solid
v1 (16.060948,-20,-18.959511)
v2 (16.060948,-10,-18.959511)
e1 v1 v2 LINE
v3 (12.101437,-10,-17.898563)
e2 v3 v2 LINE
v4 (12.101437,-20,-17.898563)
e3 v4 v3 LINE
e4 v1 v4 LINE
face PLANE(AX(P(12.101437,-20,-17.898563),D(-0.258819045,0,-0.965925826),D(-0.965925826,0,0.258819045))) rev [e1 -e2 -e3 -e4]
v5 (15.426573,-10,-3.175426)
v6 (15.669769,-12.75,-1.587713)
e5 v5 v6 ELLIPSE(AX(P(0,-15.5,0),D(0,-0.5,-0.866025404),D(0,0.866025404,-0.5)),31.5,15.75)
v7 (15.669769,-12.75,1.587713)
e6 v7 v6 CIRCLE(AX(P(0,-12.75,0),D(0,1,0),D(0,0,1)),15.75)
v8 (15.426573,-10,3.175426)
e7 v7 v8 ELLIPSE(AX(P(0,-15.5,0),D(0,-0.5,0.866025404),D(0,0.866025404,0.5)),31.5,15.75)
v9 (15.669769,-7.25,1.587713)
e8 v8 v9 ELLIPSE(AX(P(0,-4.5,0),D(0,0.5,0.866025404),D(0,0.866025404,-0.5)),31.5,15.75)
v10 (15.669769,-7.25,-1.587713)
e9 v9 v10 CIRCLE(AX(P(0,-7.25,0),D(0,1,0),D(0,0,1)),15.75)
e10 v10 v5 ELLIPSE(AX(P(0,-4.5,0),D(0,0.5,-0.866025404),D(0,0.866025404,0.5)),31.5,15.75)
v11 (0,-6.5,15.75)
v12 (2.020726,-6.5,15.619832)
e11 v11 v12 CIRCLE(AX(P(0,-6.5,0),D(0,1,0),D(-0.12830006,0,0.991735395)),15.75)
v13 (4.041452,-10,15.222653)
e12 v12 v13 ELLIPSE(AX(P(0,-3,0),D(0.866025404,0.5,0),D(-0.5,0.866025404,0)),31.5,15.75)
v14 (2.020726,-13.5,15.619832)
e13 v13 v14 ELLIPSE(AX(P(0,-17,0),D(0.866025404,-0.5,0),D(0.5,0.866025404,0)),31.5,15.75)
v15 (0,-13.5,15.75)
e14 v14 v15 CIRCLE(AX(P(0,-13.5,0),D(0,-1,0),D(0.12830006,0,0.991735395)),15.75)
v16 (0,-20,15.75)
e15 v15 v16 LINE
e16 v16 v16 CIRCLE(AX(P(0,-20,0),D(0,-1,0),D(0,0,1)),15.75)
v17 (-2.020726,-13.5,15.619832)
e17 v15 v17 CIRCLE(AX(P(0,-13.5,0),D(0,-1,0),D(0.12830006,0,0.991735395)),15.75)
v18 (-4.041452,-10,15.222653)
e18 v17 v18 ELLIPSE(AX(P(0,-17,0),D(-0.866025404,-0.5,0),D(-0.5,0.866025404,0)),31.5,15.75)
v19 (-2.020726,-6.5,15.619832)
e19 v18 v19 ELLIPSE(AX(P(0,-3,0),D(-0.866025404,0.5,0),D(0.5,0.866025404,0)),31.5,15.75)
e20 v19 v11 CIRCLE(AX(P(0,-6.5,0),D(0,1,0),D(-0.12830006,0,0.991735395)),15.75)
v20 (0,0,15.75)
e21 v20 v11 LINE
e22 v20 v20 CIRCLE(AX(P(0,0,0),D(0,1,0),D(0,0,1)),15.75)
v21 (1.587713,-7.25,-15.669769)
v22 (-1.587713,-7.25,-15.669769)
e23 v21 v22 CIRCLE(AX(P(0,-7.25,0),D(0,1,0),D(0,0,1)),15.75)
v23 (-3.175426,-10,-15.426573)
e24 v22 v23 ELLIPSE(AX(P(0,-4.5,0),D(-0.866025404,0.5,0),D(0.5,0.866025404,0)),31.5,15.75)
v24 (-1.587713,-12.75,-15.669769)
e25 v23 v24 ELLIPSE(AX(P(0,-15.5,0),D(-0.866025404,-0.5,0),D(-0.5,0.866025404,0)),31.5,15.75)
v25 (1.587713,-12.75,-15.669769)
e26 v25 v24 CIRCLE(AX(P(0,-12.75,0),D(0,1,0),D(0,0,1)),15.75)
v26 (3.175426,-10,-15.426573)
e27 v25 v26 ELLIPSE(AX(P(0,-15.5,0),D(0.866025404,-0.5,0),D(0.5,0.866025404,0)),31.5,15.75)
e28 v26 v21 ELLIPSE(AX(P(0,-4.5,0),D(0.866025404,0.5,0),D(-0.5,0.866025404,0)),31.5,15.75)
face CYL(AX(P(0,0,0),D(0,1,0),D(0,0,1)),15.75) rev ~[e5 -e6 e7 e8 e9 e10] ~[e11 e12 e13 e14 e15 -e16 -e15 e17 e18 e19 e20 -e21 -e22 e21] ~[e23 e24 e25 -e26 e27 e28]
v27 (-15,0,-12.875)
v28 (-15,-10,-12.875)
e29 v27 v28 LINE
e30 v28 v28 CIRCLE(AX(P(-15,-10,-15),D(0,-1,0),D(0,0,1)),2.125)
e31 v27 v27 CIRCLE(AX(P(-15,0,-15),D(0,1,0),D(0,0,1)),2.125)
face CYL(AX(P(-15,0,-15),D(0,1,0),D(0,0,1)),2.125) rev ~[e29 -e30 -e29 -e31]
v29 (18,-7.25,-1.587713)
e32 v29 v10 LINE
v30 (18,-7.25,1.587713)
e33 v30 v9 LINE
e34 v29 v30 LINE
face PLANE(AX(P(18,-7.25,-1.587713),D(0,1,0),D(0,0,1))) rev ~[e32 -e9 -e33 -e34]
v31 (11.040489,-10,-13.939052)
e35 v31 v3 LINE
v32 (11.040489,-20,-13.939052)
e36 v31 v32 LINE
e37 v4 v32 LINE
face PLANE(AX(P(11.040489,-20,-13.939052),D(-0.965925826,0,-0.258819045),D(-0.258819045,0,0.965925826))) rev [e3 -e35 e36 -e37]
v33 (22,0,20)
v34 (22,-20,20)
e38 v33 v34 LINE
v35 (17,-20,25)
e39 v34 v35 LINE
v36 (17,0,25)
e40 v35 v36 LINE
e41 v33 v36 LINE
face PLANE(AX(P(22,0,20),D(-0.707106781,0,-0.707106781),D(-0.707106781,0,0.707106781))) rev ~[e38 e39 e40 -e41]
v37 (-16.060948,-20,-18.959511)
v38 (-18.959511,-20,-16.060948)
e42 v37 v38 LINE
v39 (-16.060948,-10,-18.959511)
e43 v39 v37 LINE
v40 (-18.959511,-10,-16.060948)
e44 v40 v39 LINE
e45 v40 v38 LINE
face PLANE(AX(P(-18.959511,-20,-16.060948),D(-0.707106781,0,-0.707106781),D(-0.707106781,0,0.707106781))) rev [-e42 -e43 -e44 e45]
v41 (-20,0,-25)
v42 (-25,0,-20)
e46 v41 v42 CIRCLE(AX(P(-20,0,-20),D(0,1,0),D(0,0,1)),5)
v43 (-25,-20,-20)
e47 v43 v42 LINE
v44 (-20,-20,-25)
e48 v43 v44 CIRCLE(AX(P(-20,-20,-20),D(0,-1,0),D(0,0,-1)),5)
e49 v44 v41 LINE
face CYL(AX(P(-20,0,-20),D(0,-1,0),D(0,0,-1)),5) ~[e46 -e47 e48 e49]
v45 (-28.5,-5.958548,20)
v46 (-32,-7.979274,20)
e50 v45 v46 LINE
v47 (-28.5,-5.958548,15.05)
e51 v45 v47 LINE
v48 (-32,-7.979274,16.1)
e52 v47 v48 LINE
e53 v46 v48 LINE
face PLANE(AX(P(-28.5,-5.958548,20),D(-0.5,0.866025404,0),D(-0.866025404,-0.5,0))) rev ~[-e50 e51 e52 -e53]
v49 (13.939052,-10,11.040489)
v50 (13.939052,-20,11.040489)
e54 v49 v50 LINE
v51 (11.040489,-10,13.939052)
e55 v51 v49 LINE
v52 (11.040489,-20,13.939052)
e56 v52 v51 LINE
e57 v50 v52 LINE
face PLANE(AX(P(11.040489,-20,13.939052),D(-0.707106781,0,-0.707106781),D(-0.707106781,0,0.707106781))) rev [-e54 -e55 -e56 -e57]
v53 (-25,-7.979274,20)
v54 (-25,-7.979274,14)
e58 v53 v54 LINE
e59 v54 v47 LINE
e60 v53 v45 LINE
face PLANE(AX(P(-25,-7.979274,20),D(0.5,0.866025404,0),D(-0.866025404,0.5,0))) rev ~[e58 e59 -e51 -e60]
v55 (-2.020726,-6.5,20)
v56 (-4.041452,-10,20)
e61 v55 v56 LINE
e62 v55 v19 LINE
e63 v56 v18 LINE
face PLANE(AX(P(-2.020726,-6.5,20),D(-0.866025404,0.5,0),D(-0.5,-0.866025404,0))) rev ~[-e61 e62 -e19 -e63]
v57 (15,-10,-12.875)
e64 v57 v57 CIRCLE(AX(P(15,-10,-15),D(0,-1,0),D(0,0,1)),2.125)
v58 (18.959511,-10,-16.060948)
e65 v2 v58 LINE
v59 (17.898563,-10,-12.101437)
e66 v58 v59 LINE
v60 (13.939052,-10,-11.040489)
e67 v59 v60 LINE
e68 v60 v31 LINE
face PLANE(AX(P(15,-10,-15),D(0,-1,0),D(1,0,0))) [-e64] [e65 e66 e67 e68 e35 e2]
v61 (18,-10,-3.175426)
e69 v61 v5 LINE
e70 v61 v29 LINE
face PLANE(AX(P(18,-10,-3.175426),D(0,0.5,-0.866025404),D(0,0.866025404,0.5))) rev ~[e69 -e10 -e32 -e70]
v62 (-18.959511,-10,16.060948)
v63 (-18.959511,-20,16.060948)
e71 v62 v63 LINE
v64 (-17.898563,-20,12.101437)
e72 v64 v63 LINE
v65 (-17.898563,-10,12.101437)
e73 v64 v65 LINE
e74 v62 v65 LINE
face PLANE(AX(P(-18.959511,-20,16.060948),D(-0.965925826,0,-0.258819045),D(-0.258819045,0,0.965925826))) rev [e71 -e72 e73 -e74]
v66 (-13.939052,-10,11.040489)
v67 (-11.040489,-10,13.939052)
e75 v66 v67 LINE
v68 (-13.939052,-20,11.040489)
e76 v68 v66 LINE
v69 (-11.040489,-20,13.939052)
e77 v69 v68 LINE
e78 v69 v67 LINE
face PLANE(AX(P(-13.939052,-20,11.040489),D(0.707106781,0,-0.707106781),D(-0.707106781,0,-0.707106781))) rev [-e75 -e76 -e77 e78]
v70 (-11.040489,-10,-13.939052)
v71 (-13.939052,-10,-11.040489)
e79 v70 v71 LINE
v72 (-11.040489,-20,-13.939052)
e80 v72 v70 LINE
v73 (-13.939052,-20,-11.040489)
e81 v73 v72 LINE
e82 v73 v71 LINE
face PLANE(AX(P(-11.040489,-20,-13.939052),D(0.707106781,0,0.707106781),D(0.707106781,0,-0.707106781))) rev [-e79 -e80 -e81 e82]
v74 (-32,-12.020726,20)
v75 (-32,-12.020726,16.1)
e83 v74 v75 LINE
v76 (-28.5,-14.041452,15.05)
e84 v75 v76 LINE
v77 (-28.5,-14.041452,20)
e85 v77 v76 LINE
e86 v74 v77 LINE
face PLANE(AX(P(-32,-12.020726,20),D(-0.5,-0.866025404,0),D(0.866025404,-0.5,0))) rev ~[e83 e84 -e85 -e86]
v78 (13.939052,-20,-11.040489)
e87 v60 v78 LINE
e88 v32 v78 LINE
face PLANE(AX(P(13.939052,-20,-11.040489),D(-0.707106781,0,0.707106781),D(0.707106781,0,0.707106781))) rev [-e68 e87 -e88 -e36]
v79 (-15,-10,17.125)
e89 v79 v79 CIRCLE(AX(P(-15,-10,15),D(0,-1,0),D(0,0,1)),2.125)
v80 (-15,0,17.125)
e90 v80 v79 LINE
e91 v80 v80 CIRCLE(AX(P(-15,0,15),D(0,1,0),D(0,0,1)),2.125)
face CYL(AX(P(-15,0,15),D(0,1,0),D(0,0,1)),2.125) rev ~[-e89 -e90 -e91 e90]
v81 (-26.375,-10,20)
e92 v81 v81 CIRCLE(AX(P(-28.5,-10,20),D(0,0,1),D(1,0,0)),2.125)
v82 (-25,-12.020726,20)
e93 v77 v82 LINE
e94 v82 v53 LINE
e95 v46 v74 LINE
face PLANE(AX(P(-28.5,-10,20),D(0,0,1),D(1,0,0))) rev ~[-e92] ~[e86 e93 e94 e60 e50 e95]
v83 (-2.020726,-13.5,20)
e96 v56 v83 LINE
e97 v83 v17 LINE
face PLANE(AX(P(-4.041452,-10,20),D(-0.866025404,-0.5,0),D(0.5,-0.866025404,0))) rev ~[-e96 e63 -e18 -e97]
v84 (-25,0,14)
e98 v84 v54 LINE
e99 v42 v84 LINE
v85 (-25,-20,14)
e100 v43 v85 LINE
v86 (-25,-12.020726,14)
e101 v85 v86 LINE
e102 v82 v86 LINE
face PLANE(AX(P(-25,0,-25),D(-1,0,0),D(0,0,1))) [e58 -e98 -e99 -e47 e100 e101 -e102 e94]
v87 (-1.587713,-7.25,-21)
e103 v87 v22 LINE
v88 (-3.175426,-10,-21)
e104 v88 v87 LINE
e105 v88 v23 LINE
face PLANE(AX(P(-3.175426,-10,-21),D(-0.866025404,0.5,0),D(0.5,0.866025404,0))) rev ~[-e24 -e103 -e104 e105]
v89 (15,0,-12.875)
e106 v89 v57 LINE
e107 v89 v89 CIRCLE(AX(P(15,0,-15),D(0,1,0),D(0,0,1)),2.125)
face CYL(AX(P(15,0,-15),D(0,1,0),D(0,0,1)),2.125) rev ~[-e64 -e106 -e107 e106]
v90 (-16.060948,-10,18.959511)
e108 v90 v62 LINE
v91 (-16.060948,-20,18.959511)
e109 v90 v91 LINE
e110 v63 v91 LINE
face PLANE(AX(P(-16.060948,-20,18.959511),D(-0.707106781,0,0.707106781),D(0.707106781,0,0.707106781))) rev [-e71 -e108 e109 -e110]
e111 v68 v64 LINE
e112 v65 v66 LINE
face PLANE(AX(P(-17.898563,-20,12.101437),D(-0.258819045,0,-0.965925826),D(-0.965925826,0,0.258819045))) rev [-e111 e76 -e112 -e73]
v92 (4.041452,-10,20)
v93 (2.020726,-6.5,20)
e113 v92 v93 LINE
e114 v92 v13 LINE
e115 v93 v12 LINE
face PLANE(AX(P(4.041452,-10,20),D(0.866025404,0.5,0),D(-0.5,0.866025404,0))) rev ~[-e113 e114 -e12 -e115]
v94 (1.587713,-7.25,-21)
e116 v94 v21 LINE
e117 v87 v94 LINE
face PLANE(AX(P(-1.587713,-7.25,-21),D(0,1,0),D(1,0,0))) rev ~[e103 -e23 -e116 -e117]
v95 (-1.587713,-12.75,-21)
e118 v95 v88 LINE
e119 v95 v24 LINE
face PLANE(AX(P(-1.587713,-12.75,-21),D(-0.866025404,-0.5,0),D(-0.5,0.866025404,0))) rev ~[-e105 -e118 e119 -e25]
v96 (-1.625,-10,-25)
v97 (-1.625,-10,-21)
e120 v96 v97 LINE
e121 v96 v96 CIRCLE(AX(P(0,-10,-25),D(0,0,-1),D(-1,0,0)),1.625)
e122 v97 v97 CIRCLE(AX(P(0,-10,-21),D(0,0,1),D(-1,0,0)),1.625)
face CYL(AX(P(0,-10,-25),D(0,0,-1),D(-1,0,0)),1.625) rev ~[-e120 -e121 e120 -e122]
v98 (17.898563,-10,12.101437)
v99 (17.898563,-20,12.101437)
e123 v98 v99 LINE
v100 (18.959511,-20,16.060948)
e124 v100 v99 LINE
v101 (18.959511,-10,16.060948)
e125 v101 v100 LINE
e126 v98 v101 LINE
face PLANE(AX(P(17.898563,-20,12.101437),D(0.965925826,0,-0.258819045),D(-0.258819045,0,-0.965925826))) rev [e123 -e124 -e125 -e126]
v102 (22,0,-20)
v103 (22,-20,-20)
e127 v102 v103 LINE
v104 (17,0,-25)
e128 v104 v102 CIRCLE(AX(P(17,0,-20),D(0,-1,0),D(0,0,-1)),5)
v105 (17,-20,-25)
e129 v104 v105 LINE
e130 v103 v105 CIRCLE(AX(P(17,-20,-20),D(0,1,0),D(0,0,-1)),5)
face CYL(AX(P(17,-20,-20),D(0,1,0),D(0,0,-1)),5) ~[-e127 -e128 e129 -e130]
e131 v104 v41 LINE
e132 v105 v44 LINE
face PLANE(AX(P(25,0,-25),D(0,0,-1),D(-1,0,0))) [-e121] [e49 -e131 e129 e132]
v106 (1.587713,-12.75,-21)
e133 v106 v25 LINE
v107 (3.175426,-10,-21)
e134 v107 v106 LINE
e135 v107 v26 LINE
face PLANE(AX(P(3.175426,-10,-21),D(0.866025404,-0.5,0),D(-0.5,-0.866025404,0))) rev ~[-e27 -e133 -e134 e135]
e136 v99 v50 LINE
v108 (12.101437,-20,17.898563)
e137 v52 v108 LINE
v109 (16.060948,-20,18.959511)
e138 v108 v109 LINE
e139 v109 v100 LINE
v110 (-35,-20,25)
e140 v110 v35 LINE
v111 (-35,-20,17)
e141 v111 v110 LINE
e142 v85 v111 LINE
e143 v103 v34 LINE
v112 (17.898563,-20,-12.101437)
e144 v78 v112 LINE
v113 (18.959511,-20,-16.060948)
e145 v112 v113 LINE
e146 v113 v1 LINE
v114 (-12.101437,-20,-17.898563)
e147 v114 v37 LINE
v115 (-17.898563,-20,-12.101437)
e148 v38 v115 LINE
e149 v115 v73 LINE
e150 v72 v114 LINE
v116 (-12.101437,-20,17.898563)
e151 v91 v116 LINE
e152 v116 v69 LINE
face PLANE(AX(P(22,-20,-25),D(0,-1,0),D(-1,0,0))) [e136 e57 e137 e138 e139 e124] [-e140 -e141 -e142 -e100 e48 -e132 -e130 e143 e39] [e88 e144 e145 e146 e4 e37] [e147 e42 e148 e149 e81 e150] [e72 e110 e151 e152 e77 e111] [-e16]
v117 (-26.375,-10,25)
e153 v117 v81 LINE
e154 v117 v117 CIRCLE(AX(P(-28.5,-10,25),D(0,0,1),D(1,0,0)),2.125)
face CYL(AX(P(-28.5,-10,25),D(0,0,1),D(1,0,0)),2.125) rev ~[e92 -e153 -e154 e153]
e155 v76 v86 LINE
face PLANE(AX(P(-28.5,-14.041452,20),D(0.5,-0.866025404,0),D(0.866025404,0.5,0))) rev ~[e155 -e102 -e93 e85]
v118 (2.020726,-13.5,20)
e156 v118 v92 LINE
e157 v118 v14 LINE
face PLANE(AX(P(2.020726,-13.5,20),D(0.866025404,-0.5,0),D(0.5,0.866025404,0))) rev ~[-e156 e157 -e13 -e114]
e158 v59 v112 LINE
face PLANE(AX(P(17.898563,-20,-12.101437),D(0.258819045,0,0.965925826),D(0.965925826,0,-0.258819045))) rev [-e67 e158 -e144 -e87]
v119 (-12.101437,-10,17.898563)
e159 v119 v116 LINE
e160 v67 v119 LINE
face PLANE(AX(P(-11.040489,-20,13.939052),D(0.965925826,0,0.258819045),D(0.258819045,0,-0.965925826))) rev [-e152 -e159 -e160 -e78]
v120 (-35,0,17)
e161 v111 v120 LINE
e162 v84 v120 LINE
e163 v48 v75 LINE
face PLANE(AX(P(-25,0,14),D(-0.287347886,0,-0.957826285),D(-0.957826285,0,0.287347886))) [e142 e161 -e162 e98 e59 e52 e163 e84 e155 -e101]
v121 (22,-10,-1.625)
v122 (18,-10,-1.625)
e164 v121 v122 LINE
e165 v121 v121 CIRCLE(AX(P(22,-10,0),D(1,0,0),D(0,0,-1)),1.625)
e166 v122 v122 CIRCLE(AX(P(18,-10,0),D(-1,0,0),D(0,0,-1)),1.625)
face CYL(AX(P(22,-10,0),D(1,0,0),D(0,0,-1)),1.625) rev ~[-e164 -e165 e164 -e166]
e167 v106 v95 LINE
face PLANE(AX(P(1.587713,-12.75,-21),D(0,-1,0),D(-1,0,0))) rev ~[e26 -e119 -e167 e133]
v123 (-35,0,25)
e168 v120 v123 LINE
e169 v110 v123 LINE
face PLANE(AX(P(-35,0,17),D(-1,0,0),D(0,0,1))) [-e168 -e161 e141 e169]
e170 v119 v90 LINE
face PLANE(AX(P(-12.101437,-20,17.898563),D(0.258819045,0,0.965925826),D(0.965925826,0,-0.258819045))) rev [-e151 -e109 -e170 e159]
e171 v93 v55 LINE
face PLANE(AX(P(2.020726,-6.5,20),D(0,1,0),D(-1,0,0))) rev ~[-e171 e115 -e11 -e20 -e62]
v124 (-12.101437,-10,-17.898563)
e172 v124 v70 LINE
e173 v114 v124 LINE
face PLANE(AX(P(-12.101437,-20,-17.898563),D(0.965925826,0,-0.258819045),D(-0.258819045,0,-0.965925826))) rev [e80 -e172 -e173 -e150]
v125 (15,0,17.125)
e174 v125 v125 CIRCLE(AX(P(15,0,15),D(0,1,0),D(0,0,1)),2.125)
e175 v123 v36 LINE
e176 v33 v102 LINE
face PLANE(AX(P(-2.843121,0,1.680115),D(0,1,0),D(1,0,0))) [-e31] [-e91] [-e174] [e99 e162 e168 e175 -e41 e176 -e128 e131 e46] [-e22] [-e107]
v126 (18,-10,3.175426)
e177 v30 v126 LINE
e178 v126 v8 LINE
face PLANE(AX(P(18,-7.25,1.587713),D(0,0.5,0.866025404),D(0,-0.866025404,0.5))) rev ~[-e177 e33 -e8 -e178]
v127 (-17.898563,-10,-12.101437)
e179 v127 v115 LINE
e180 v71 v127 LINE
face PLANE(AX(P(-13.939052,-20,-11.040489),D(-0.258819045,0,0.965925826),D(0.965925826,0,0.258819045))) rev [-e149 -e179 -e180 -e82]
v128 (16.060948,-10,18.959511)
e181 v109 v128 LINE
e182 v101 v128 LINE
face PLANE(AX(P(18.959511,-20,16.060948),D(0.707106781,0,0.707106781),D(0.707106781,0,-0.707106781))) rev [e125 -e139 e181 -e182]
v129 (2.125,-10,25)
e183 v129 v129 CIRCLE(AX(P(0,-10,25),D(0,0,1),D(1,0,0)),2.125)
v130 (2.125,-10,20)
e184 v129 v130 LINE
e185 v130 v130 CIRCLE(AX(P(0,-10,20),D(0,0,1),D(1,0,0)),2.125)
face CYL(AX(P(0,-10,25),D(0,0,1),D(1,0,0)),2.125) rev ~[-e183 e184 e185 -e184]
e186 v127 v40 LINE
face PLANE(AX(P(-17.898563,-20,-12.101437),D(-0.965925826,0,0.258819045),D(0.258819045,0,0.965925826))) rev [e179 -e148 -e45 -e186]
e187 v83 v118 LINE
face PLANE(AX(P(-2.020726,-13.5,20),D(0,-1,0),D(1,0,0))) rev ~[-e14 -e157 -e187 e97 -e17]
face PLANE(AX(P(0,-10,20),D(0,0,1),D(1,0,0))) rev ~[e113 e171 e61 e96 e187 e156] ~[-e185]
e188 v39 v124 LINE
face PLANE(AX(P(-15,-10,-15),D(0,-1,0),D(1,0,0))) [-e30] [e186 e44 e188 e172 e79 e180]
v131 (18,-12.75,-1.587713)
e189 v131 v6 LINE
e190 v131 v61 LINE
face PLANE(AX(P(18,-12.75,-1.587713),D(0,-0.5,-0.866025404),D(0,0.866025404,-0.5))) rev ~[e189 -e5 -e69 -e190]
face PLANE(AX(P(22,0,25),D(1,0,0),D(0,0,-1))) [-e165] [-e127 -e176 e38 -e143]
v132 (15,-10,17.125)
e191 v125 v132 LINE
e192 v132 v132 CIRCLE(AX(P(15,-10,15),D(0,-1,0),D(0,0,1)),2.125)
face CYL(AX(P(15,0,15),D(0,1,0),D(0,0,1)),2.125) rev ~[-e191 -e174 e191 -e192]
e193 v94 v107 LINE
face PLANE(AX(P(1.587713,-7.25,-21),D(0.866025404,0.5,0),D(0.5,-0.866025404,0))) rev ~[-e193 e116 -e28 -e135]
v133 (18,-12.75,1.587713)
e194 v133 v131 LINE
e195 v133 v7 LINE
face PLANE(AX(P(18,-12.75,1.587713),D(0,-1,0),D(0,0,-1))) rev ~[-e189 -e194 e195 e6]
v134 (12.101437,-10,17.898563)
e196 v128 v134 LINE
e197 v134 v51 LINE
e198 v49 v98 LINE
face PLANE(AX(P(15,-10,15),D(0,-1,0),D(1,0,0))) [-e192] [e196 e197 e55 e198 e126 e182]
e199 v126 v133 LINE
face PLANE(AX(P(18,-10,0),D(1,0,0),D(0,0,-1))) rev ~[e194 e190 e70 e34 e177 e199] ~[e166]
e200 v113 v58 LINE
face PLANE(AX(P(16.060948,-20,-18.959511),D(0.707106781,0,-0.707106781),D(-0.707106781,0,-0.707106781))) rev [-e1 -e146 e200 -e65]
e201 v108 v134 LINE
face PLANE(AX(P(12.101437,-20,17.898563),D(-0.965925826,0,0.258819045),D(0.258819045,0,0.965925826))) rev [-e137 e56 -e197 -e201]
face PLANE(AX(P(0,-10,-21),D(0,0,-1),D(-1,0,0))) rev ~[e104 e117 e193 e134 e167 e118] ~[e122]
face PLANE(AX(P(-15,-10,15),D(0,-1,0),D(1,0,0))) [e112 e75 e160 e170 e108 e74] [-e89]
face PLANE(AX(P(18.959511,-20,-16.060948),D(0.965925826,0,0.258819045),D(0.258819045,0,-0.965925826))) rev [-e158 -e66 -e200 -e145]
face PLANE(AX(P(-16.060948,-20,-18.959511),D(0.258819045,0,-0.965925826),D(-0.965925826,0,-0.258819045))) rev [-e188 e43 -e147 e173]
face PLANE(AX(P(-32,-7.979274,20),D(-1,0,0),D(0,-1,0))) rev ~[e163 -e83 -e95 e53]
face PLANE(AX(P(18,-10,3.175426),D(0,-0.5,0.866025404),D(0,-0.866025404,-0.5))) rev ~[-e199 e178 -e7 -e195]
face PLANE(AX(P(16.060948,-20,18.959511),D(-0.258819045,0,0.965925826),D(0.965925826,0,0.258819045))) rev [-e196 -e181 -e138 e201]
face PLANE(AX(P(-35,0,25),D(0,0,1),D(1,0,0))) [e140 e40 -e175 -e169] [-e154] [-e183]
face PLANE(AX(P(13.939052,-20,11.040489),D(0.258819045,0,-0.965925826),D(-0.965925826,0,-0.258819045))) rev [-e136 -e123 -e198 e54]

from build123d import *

# Parameters (mm, degrees)
CROQUIS1_R               = 2.125
CROQUIS1_R_2             = 15.75
SALIENTE_EXTRUIR1_DEPTH  = 20
CORTAR_EXTRUIR1_REACH    = 66.226
CROQUIS3_R               = 2.125
CORTAR_EXTRUIR2_REACH    = 71.226
CORTAR_EXTRUIR2_START    = -5
CORTAR_EXTRUIR3_DEPTH    = 10
SKETCH1_W                = 3
SKETCH1_H                = 60
CUT_EXTRUDE1_DEPTH       = 48.434164903
REDONDEO1_R              = 5
CUT_EXTRUDE2_DEPTH       = 48.434164903
SKETCH3_R                = 1.625
CUT_EXTRUDE3_DEPTH       = 10
CUT_EXTRUDE4_REACH       = 71.376
CUT_EXTRUDE4_END_RADIUS  = 15.75
CUT_EXTRUDE4_START       = -4
CUT_EXTRUDE5_REACH       = 66.226
CUT_EXTRUDE5_END_RADIUS  = 15.75
SKETCH5_R                = 1.625
CUT_EXTRUDE6_REACH       = 70.226
CUT_EXTRUDE6_END_RADIUS  = 15.75
CUT_EXTRUDE6_START       = -4
REDONDEO1_OF_SIMETR_A1_R = 5
CROQUIS6_W               = 57
CROQUIS6_H               = 20
CORTAR_EXTRUIR4_DEPTH    = 73.972597597
CROQUIS7_W               = 57
CROQUIS7_H               = 20
CORTAR_EXTRUIR5_DEPTH    = 73.972597597


with BuildPart() as part:
    # Croquis1 → Saliente-Extruir1 (new body)
    with BuildSketch(Plane(origin=(0, 0, 0), x_dir=(1, 0, 0), z_dir=(0, 1, 0))):
        Polygon((25, 25), (-25, 25), (-25, -14), (-35, -17), (-35, -25), (25, -25), align=None)
        with Locations(Location((-15, -15, 0), (0, 0, 270))):
            Circle(CROQUIS1_R, mode=Mode.SUBTRACT)
        with Locations(Location((15, -15, 0), (0, 0, 270))):
            Circle(CROQUIS1_R, mode=Mode.SUBTRACT)
        with Locations(Location((-15, 15, 0), (0, 0, 270))):
            Circle(CROQUIS1_R, mode=Mode.SUBTRACT)
        with Locations(Location((0, 0, 0), (0, 0, 270))):
            Circle(CROQUIS1_R_2, mode=Mode.SUBTRACT)
        with Locations(Location((15, 15, 0), (0, 0, 270))):
            Circle(CROQUIS1_R, mode=Mode.SUBTRACT)
    saliente_extruir1 = extrude(amount=-SALIENTE_EXTRUIR1_DEPTH)

    # Croquis3 → Cortar-Extruir1 (cut, up to next)
    with BuildSketch(Plane.XY.offset(25), mode=Mode.PRIVATE) as cortar_extruir1_sk1:
        with Locations((-28.5, -10)):
            Circle(CROQUIS3_R)
    cortar_extruir1_tool1 = extrude(cortar_extruir1_sk1.sketch, amount=-CORTAR_EXTRUIR1_REACH, mode=Mode.PRIVATE) & part.part
    # Croquis3 → Cortar-Extruir1 (cut, up to next)
    with BuildSketch(Plane.XY.offset(25), mode=Mode.PRIVATE) as cortar_extruir1_sk2:
        with Locations((0, -10)):
            Circle(CROQUIS3_R)
    cortar_extruir1_tool2 = extrude(cortar_extruir1_sk2.sketch, amount=-CORTAR_EXTRUIR1_REACH, mode=Mode.PRIVATE) & part.part
    cortar_extruir1_1 = cortar_extruir1_tool1.solids().sort_by_distance((-28.5, -10, 25))[0]
    add(cortar_extruir1_1, mode=Mode.SUBTRACT)
    cortar_extruir1_2 = cortar_extruir1_tool2.solids().sort_by_distance((0, -10, 25))[0]
    add(cortar_extruir1_2, mode=Mode.SUBTRACT)
    cortar_extruir1 = cortar_extruir1_1 + cortar_extruir1_2  # Cortar-Extruir1 as one shape, for the pattern or mirror that repeats it

    # Croquis4 → Cortar-Extruir2 (cut, up to next)
    with BuildSketch(Plane.XY.offset(25).offset(CORTAR_EXTRUIR2_START), mode=Mode.PRIVATE) as cortar_extruir2_sk1:
        Polygon((-28.5, -14.041451884), (-25, -12.020725942), (-25, -7.979274058), (-28.5, -5.958548116), (-32, -7.979274058), (-32, -12.020725942), align=None)
    cortar_extruir2_tool1 = extrude(cortar_extruir2_sk1.sketch, amount=-CORTAR_EXTRUIR2_REACH, mode=Mode.PRIVATE) & part.part
    # Croquis4 → Cortar-Extruir2 (cut, up to next)
    with BuildSketch(Plane.XY.offset(25).offset(CORTAR_EXTRUIR2_START), mode=Mode.PRIVATE) as cortar_extruir2_sk2:
        Polygon((2.020725942, -13.5), (4.041451884, -10), (2.020725942, -6.5), (-2.020725942, -6.5), (-4.041451884, -10), (-2.020725942, -13.5), align=None)
    cortar_extruir2_tool2 = extrude(cortar_extruir2_sk2.sketch, amount=-CORTAR_EXTRUIR2_REACH, mode=Mode.PRIVATE) & part.part
    cortar_extruir2_1 = cortar_extruir2_tool1.solids().sort_by_distance((-28.5, -10, 20))[0]
    add(cortar_extruir2_1, mode=Mode.SUBTRACT)
    cortar_extruir2_2 = cortar_extruir2_tool2.solids().sort_by_distance((0, -10, 20))[0]
    add(cortar_extruir2_2, mode=Mode.SUBTRACT)
    cortar_extruir2 = cortar_extruir2_1 + cortar_extruir2_2  # Cortar-Extruir2 as one shape, for the pattern or mirror that repeats it

    # Croquis5 → Cortar-Extruir3 (cut)
    with BuildSketch(Plane.XZ.offset(20)):
        Polygon((-11.040489496, 13.939052358), (-12.101437138, 17.898562862), (-16.060947642, 18.959510504), (-18.959510504, 16.060947642), (-17.898562862, 12.101437138), (-13.939052358, 11.040489496), align=None)
        Polygon((11.040489496, 13.939052358), (13.939052358, 11.040489496), (17.898562862, 12.101437138), (18.959510504, 16.060947642), (16.060947642, 18.959510504), (12.101437138, 17.898562862), align=None)
        Polygon((-13.939052358, -11.040489496), (-17.898562862, -12.101437138), (-18.959510504, -16.060947642), (-16.060947642, -18.959510504), (-12.101437138, -17.898562862), (-11.040489496, -13.939052358), align=None)
        Polygon((18.959510504, -16.060947642), (17.898562862, -12.101437138), (13.939052358, -11.040489496), (11.040489496, -13.939052358), (12.101437138, -17.898562862), (16.060947642, -18.959510504), align=None)
    cortar_extruir3 = extrude(amount=-CORTAR_EXTRUIR3_DEPTH, mode=Mode.SUBTRACT)

    # Sketch1 → Cut-Extrude1 (cut, through all)
    with BuildSketch(Plane(origin=(0, 0, 0), x_dir=(1, 0, 0), z_dir=(0, 1, 0))):
        with Locations((23.5, 5)):
            Rectangle(SKETCH1_W, SKETCH1_H)
    cut_extrude1 = extrude(amount=-CUT_EXTRUDE1_DEPTH, mode=Mode.SUBTRACT)

    # Redondeo1
    redondeo1_edges = [part.edges().sort_by_distance(p)[0] for p in [
        (22, -10, -25),
        (-25, -10, -25),
    ]]
    fillet(redondeo1_edges, radius=REDONDEO1_R)

    # Sketch2 → Cut-Extrude2 (cut, through all)
    with BuildSketch(Plane(origin=(0, 0, 0), x_dir=(1, 0, 0), z_dir=(0, 1, 0))):
        Polygon((22, -25), (22, -20), (17, -25), align=None)
    cut_extrude2 = extrude(amount=-CUT_EXTRUDE2_DEPTH, mode=Mode.SUBTRACT)

    # Sketch3 → Cut-Extrude3 (cut)
    with BuildSketch(Plane(origin=(22, 0, 0), x_dir=(0, 0, -1), z_dir=(1, 0, 0))):
        with Locations((0, -10)):
            Circle(SKETCH3_R)
    cut_extrude3 = extrude(amount=-CUT_EXTRUDE3_DEPTH, mode=Mode.SUBTRACT)

    # Cut-Extrude4: up to this cylinder (the profile starts outside it)
    cut_extrude4_end = Plane(origin=(0, -10, 0), z_dir=(0, 1, 0)) * Cylinder(CUT_EXTRUDE4_END_RADIUS, 175.252, mode=Mode.PRIVATE)
    # Sketch4 → Cut-Extrude4 (cut, up to the surface)
    with BuildSketch(Plane(origin=(22, 0, 0), x_dir=(0, 0, -1), z_dir=(1, 0, 0)).offset(CUT_EXTRUDE4_START), mode=Mode.PRIVATE) as cut_extrude4_sk1:
        Polygon((1.58771324, -12.75), (3.175426481, -10), (1.58771324, -7.25), (-1.58771324, -7.25), (-3.175426481, -10), (-1.58771324, -12.75), align=None)
    cut_extrude4_tool1 = extrude(cut_extrude4_sk1.sketch, amount=-CUT_EXTRUDE4_REACH, mode=Mode.PRIVATE) - cut_extrude4_end
    cut_extrude4 = cut_extrude4_tool1.solids().sort_by_distance((18, -10, 0))[0]
    add(cut_extrude4, mode=Mode.SUBTRACT)

    # Cut-Extrude5: up to this cylinder (the profile starts outside it)
    cut_extrude5_end = Plane(origin=(0, -10, 0), z_dir=(0, 1, 0)) * Cylinder(CUT_EXTRUDE5_END_RADIUS, 164.952, mode=Mode.PRIVATE)
    # Sketch5 → Cut-Extrude5 (cut, up to the surface)
    with BuildSketch(Plane(origin=(0, 0, -25), x_dir=(-1, 0, 0), z_dir=(0, 0, -1)), mode=Mode.PRIVATE) as cut_extrude5_sk1:
        with Locations((0, -10)):
            Circle(SKETCH5_R)
    cut_extrude5_tool1 = extrude(cut_extrude5_sk1.sketch, amount=-CUT_EXTRUDE5_REACH, mode=Mode.PRIVATE) - cut_extrude5_end
    cut_extrude5 = cut_extrude5_tool1.solids().sort_by_distance((0, -10, -25))[0]
    add(cut_extrude5, mode=Mode.SUBTRACT)

    # Cut-Extrude6: up to this cylinder (the profile starts outside it)
    cut_extrude6_end = Plane(origin=(0, -10, 0), z_dir=(0, 1, 0)) * Cylinder(CUT_EXTRUDE6_END_RADIUS, 172.952, mode=Mode.PRIVATE)
    # Sketch6 → Cut-Extrude6 (cut, up to the surface)
    with BuildSketch(Plane(origin=(0, 0, -25), x_dir=(-1, 0, 0), z_dir=(0, 0, -1)).offset(CUT_EXTRUDE6_START), mode=Mode.PRIVATE) as cut_extrude6_sk1:
        Polygon((1.58771324, -12.75), (3.175426481, -10), (1.58771324, -7.25), (-1.58771324, -7.25), (-3.175426481, -10), (-1.58771324, -12.75), align=None)
    cut_extrude6_tool1 = extrude(cut_extrude6_sk1.sketch, amount=-CUT_EXTRUDE6_REACH, mode=Mode.PRIVATE) - cut_extrude6_end
    cut_extrude6 = cut_extrude6_tool1.solids().sort_by_distance((0, -10, -21))[0]
    add(cut_extrude6, mode=Mode.SUBTRACT)

    # Simetría1: Saliente-Extruir1, Cortar-Extruir1, Cortar-Extruir2, Cortar-Extruir3, Cut-Extrude1, Cut-Extrude2, Cut-Extrude3, Cut-Extrude4, Cut-Extrude5, Cut-Extrude6 across plane
    add(saliente_extruir1.mirror(Plane.ZX.offset(-20)))
    add(cortar_extruir1.mirror(Plane.ZX.offset(-20)), mode=Mode.SUBTRACT)
    add(cortar_extruir2.mirror(Plane.ZX.offset(-20)), mode=Mode.SUBTRACT)
    add(cortar_extruir3.mirror(Plane.ZX.offset(-20)), mode=Mode.SUBTRACT)
    add(cut_extrude1.mirror(Plane.ZX.offset(-20)), mode=Mode.SUBTRACT)
    add(cut_extrude2.mirror(Plane.ZX.offset(-20)), mode=Mode.SUBTRACT)
    add(cut_extrude3.mirror(Plane.ZX.offset(-20)), mode=Mode.SUBTRACT)
    add(cut_extrude4.mirror(Plane.ZX.offset(-20)), mode=Mode.SUBTRACT)
    add(cut_extrude5.mirror(Plane.ZX.offset(-20)), mode=Mode.SUBTRACT)
    add(cut_extrude6.mirror(Plane.ZX.offset(-20)), mode=Mode.SUBTRACT)

    # Redondeo1 of Simetría1
    redondeo1_of_simetr_a1_edges = [part.edges().sort_by_distance(p)[0] for p in [
        (22, -30, -25),
        (-25, -30, -25),
    ]]
    fillet(redondeo1_of_simetr_a1_edges, radius=REDONDEO1_OF_SIMETR_A1_R)

    # Croquis6 → Cortar-Extruir4 (cut, through all)
    with BuildSketch(Plane(origin=(0, 0, -25), x_dir=(-1, 0, 0), z_dir=(0, 0, -1))):
        with Locations((6.5, -10)):
            Rectangle(CROQUIS6_W, CROQUIS6_H)
    extrude(amount=-CORTAR_EXTRUIR4_DEPTH, mode=Mode.SUBTRACT)

    # Simetría4: part across plane


with BuildPart() as part_1:
    add(part.part)
    add(part.part.mirror(Plane(origin=(22, -20, 25), x_dir=(0, 0, 1), z_dir=(0, -1, 0))))

    # Croquis7 → Cortar-Extruir5 (cut, through all)
    with BuildSketch(Plane(origin=(0, 0, -25), x_dir=(-1, 0, 0), z_dir=(0, 0, -1))):
        with Locations((6.5, -30)):
            Rectangle(CROQUIS7_W, CROQUIS7_H)
    extrude(amount=-CORTAR_EXTRUIR5_DEPTH, mode=Mode.SUBTRACT)


solid = part_1.part
